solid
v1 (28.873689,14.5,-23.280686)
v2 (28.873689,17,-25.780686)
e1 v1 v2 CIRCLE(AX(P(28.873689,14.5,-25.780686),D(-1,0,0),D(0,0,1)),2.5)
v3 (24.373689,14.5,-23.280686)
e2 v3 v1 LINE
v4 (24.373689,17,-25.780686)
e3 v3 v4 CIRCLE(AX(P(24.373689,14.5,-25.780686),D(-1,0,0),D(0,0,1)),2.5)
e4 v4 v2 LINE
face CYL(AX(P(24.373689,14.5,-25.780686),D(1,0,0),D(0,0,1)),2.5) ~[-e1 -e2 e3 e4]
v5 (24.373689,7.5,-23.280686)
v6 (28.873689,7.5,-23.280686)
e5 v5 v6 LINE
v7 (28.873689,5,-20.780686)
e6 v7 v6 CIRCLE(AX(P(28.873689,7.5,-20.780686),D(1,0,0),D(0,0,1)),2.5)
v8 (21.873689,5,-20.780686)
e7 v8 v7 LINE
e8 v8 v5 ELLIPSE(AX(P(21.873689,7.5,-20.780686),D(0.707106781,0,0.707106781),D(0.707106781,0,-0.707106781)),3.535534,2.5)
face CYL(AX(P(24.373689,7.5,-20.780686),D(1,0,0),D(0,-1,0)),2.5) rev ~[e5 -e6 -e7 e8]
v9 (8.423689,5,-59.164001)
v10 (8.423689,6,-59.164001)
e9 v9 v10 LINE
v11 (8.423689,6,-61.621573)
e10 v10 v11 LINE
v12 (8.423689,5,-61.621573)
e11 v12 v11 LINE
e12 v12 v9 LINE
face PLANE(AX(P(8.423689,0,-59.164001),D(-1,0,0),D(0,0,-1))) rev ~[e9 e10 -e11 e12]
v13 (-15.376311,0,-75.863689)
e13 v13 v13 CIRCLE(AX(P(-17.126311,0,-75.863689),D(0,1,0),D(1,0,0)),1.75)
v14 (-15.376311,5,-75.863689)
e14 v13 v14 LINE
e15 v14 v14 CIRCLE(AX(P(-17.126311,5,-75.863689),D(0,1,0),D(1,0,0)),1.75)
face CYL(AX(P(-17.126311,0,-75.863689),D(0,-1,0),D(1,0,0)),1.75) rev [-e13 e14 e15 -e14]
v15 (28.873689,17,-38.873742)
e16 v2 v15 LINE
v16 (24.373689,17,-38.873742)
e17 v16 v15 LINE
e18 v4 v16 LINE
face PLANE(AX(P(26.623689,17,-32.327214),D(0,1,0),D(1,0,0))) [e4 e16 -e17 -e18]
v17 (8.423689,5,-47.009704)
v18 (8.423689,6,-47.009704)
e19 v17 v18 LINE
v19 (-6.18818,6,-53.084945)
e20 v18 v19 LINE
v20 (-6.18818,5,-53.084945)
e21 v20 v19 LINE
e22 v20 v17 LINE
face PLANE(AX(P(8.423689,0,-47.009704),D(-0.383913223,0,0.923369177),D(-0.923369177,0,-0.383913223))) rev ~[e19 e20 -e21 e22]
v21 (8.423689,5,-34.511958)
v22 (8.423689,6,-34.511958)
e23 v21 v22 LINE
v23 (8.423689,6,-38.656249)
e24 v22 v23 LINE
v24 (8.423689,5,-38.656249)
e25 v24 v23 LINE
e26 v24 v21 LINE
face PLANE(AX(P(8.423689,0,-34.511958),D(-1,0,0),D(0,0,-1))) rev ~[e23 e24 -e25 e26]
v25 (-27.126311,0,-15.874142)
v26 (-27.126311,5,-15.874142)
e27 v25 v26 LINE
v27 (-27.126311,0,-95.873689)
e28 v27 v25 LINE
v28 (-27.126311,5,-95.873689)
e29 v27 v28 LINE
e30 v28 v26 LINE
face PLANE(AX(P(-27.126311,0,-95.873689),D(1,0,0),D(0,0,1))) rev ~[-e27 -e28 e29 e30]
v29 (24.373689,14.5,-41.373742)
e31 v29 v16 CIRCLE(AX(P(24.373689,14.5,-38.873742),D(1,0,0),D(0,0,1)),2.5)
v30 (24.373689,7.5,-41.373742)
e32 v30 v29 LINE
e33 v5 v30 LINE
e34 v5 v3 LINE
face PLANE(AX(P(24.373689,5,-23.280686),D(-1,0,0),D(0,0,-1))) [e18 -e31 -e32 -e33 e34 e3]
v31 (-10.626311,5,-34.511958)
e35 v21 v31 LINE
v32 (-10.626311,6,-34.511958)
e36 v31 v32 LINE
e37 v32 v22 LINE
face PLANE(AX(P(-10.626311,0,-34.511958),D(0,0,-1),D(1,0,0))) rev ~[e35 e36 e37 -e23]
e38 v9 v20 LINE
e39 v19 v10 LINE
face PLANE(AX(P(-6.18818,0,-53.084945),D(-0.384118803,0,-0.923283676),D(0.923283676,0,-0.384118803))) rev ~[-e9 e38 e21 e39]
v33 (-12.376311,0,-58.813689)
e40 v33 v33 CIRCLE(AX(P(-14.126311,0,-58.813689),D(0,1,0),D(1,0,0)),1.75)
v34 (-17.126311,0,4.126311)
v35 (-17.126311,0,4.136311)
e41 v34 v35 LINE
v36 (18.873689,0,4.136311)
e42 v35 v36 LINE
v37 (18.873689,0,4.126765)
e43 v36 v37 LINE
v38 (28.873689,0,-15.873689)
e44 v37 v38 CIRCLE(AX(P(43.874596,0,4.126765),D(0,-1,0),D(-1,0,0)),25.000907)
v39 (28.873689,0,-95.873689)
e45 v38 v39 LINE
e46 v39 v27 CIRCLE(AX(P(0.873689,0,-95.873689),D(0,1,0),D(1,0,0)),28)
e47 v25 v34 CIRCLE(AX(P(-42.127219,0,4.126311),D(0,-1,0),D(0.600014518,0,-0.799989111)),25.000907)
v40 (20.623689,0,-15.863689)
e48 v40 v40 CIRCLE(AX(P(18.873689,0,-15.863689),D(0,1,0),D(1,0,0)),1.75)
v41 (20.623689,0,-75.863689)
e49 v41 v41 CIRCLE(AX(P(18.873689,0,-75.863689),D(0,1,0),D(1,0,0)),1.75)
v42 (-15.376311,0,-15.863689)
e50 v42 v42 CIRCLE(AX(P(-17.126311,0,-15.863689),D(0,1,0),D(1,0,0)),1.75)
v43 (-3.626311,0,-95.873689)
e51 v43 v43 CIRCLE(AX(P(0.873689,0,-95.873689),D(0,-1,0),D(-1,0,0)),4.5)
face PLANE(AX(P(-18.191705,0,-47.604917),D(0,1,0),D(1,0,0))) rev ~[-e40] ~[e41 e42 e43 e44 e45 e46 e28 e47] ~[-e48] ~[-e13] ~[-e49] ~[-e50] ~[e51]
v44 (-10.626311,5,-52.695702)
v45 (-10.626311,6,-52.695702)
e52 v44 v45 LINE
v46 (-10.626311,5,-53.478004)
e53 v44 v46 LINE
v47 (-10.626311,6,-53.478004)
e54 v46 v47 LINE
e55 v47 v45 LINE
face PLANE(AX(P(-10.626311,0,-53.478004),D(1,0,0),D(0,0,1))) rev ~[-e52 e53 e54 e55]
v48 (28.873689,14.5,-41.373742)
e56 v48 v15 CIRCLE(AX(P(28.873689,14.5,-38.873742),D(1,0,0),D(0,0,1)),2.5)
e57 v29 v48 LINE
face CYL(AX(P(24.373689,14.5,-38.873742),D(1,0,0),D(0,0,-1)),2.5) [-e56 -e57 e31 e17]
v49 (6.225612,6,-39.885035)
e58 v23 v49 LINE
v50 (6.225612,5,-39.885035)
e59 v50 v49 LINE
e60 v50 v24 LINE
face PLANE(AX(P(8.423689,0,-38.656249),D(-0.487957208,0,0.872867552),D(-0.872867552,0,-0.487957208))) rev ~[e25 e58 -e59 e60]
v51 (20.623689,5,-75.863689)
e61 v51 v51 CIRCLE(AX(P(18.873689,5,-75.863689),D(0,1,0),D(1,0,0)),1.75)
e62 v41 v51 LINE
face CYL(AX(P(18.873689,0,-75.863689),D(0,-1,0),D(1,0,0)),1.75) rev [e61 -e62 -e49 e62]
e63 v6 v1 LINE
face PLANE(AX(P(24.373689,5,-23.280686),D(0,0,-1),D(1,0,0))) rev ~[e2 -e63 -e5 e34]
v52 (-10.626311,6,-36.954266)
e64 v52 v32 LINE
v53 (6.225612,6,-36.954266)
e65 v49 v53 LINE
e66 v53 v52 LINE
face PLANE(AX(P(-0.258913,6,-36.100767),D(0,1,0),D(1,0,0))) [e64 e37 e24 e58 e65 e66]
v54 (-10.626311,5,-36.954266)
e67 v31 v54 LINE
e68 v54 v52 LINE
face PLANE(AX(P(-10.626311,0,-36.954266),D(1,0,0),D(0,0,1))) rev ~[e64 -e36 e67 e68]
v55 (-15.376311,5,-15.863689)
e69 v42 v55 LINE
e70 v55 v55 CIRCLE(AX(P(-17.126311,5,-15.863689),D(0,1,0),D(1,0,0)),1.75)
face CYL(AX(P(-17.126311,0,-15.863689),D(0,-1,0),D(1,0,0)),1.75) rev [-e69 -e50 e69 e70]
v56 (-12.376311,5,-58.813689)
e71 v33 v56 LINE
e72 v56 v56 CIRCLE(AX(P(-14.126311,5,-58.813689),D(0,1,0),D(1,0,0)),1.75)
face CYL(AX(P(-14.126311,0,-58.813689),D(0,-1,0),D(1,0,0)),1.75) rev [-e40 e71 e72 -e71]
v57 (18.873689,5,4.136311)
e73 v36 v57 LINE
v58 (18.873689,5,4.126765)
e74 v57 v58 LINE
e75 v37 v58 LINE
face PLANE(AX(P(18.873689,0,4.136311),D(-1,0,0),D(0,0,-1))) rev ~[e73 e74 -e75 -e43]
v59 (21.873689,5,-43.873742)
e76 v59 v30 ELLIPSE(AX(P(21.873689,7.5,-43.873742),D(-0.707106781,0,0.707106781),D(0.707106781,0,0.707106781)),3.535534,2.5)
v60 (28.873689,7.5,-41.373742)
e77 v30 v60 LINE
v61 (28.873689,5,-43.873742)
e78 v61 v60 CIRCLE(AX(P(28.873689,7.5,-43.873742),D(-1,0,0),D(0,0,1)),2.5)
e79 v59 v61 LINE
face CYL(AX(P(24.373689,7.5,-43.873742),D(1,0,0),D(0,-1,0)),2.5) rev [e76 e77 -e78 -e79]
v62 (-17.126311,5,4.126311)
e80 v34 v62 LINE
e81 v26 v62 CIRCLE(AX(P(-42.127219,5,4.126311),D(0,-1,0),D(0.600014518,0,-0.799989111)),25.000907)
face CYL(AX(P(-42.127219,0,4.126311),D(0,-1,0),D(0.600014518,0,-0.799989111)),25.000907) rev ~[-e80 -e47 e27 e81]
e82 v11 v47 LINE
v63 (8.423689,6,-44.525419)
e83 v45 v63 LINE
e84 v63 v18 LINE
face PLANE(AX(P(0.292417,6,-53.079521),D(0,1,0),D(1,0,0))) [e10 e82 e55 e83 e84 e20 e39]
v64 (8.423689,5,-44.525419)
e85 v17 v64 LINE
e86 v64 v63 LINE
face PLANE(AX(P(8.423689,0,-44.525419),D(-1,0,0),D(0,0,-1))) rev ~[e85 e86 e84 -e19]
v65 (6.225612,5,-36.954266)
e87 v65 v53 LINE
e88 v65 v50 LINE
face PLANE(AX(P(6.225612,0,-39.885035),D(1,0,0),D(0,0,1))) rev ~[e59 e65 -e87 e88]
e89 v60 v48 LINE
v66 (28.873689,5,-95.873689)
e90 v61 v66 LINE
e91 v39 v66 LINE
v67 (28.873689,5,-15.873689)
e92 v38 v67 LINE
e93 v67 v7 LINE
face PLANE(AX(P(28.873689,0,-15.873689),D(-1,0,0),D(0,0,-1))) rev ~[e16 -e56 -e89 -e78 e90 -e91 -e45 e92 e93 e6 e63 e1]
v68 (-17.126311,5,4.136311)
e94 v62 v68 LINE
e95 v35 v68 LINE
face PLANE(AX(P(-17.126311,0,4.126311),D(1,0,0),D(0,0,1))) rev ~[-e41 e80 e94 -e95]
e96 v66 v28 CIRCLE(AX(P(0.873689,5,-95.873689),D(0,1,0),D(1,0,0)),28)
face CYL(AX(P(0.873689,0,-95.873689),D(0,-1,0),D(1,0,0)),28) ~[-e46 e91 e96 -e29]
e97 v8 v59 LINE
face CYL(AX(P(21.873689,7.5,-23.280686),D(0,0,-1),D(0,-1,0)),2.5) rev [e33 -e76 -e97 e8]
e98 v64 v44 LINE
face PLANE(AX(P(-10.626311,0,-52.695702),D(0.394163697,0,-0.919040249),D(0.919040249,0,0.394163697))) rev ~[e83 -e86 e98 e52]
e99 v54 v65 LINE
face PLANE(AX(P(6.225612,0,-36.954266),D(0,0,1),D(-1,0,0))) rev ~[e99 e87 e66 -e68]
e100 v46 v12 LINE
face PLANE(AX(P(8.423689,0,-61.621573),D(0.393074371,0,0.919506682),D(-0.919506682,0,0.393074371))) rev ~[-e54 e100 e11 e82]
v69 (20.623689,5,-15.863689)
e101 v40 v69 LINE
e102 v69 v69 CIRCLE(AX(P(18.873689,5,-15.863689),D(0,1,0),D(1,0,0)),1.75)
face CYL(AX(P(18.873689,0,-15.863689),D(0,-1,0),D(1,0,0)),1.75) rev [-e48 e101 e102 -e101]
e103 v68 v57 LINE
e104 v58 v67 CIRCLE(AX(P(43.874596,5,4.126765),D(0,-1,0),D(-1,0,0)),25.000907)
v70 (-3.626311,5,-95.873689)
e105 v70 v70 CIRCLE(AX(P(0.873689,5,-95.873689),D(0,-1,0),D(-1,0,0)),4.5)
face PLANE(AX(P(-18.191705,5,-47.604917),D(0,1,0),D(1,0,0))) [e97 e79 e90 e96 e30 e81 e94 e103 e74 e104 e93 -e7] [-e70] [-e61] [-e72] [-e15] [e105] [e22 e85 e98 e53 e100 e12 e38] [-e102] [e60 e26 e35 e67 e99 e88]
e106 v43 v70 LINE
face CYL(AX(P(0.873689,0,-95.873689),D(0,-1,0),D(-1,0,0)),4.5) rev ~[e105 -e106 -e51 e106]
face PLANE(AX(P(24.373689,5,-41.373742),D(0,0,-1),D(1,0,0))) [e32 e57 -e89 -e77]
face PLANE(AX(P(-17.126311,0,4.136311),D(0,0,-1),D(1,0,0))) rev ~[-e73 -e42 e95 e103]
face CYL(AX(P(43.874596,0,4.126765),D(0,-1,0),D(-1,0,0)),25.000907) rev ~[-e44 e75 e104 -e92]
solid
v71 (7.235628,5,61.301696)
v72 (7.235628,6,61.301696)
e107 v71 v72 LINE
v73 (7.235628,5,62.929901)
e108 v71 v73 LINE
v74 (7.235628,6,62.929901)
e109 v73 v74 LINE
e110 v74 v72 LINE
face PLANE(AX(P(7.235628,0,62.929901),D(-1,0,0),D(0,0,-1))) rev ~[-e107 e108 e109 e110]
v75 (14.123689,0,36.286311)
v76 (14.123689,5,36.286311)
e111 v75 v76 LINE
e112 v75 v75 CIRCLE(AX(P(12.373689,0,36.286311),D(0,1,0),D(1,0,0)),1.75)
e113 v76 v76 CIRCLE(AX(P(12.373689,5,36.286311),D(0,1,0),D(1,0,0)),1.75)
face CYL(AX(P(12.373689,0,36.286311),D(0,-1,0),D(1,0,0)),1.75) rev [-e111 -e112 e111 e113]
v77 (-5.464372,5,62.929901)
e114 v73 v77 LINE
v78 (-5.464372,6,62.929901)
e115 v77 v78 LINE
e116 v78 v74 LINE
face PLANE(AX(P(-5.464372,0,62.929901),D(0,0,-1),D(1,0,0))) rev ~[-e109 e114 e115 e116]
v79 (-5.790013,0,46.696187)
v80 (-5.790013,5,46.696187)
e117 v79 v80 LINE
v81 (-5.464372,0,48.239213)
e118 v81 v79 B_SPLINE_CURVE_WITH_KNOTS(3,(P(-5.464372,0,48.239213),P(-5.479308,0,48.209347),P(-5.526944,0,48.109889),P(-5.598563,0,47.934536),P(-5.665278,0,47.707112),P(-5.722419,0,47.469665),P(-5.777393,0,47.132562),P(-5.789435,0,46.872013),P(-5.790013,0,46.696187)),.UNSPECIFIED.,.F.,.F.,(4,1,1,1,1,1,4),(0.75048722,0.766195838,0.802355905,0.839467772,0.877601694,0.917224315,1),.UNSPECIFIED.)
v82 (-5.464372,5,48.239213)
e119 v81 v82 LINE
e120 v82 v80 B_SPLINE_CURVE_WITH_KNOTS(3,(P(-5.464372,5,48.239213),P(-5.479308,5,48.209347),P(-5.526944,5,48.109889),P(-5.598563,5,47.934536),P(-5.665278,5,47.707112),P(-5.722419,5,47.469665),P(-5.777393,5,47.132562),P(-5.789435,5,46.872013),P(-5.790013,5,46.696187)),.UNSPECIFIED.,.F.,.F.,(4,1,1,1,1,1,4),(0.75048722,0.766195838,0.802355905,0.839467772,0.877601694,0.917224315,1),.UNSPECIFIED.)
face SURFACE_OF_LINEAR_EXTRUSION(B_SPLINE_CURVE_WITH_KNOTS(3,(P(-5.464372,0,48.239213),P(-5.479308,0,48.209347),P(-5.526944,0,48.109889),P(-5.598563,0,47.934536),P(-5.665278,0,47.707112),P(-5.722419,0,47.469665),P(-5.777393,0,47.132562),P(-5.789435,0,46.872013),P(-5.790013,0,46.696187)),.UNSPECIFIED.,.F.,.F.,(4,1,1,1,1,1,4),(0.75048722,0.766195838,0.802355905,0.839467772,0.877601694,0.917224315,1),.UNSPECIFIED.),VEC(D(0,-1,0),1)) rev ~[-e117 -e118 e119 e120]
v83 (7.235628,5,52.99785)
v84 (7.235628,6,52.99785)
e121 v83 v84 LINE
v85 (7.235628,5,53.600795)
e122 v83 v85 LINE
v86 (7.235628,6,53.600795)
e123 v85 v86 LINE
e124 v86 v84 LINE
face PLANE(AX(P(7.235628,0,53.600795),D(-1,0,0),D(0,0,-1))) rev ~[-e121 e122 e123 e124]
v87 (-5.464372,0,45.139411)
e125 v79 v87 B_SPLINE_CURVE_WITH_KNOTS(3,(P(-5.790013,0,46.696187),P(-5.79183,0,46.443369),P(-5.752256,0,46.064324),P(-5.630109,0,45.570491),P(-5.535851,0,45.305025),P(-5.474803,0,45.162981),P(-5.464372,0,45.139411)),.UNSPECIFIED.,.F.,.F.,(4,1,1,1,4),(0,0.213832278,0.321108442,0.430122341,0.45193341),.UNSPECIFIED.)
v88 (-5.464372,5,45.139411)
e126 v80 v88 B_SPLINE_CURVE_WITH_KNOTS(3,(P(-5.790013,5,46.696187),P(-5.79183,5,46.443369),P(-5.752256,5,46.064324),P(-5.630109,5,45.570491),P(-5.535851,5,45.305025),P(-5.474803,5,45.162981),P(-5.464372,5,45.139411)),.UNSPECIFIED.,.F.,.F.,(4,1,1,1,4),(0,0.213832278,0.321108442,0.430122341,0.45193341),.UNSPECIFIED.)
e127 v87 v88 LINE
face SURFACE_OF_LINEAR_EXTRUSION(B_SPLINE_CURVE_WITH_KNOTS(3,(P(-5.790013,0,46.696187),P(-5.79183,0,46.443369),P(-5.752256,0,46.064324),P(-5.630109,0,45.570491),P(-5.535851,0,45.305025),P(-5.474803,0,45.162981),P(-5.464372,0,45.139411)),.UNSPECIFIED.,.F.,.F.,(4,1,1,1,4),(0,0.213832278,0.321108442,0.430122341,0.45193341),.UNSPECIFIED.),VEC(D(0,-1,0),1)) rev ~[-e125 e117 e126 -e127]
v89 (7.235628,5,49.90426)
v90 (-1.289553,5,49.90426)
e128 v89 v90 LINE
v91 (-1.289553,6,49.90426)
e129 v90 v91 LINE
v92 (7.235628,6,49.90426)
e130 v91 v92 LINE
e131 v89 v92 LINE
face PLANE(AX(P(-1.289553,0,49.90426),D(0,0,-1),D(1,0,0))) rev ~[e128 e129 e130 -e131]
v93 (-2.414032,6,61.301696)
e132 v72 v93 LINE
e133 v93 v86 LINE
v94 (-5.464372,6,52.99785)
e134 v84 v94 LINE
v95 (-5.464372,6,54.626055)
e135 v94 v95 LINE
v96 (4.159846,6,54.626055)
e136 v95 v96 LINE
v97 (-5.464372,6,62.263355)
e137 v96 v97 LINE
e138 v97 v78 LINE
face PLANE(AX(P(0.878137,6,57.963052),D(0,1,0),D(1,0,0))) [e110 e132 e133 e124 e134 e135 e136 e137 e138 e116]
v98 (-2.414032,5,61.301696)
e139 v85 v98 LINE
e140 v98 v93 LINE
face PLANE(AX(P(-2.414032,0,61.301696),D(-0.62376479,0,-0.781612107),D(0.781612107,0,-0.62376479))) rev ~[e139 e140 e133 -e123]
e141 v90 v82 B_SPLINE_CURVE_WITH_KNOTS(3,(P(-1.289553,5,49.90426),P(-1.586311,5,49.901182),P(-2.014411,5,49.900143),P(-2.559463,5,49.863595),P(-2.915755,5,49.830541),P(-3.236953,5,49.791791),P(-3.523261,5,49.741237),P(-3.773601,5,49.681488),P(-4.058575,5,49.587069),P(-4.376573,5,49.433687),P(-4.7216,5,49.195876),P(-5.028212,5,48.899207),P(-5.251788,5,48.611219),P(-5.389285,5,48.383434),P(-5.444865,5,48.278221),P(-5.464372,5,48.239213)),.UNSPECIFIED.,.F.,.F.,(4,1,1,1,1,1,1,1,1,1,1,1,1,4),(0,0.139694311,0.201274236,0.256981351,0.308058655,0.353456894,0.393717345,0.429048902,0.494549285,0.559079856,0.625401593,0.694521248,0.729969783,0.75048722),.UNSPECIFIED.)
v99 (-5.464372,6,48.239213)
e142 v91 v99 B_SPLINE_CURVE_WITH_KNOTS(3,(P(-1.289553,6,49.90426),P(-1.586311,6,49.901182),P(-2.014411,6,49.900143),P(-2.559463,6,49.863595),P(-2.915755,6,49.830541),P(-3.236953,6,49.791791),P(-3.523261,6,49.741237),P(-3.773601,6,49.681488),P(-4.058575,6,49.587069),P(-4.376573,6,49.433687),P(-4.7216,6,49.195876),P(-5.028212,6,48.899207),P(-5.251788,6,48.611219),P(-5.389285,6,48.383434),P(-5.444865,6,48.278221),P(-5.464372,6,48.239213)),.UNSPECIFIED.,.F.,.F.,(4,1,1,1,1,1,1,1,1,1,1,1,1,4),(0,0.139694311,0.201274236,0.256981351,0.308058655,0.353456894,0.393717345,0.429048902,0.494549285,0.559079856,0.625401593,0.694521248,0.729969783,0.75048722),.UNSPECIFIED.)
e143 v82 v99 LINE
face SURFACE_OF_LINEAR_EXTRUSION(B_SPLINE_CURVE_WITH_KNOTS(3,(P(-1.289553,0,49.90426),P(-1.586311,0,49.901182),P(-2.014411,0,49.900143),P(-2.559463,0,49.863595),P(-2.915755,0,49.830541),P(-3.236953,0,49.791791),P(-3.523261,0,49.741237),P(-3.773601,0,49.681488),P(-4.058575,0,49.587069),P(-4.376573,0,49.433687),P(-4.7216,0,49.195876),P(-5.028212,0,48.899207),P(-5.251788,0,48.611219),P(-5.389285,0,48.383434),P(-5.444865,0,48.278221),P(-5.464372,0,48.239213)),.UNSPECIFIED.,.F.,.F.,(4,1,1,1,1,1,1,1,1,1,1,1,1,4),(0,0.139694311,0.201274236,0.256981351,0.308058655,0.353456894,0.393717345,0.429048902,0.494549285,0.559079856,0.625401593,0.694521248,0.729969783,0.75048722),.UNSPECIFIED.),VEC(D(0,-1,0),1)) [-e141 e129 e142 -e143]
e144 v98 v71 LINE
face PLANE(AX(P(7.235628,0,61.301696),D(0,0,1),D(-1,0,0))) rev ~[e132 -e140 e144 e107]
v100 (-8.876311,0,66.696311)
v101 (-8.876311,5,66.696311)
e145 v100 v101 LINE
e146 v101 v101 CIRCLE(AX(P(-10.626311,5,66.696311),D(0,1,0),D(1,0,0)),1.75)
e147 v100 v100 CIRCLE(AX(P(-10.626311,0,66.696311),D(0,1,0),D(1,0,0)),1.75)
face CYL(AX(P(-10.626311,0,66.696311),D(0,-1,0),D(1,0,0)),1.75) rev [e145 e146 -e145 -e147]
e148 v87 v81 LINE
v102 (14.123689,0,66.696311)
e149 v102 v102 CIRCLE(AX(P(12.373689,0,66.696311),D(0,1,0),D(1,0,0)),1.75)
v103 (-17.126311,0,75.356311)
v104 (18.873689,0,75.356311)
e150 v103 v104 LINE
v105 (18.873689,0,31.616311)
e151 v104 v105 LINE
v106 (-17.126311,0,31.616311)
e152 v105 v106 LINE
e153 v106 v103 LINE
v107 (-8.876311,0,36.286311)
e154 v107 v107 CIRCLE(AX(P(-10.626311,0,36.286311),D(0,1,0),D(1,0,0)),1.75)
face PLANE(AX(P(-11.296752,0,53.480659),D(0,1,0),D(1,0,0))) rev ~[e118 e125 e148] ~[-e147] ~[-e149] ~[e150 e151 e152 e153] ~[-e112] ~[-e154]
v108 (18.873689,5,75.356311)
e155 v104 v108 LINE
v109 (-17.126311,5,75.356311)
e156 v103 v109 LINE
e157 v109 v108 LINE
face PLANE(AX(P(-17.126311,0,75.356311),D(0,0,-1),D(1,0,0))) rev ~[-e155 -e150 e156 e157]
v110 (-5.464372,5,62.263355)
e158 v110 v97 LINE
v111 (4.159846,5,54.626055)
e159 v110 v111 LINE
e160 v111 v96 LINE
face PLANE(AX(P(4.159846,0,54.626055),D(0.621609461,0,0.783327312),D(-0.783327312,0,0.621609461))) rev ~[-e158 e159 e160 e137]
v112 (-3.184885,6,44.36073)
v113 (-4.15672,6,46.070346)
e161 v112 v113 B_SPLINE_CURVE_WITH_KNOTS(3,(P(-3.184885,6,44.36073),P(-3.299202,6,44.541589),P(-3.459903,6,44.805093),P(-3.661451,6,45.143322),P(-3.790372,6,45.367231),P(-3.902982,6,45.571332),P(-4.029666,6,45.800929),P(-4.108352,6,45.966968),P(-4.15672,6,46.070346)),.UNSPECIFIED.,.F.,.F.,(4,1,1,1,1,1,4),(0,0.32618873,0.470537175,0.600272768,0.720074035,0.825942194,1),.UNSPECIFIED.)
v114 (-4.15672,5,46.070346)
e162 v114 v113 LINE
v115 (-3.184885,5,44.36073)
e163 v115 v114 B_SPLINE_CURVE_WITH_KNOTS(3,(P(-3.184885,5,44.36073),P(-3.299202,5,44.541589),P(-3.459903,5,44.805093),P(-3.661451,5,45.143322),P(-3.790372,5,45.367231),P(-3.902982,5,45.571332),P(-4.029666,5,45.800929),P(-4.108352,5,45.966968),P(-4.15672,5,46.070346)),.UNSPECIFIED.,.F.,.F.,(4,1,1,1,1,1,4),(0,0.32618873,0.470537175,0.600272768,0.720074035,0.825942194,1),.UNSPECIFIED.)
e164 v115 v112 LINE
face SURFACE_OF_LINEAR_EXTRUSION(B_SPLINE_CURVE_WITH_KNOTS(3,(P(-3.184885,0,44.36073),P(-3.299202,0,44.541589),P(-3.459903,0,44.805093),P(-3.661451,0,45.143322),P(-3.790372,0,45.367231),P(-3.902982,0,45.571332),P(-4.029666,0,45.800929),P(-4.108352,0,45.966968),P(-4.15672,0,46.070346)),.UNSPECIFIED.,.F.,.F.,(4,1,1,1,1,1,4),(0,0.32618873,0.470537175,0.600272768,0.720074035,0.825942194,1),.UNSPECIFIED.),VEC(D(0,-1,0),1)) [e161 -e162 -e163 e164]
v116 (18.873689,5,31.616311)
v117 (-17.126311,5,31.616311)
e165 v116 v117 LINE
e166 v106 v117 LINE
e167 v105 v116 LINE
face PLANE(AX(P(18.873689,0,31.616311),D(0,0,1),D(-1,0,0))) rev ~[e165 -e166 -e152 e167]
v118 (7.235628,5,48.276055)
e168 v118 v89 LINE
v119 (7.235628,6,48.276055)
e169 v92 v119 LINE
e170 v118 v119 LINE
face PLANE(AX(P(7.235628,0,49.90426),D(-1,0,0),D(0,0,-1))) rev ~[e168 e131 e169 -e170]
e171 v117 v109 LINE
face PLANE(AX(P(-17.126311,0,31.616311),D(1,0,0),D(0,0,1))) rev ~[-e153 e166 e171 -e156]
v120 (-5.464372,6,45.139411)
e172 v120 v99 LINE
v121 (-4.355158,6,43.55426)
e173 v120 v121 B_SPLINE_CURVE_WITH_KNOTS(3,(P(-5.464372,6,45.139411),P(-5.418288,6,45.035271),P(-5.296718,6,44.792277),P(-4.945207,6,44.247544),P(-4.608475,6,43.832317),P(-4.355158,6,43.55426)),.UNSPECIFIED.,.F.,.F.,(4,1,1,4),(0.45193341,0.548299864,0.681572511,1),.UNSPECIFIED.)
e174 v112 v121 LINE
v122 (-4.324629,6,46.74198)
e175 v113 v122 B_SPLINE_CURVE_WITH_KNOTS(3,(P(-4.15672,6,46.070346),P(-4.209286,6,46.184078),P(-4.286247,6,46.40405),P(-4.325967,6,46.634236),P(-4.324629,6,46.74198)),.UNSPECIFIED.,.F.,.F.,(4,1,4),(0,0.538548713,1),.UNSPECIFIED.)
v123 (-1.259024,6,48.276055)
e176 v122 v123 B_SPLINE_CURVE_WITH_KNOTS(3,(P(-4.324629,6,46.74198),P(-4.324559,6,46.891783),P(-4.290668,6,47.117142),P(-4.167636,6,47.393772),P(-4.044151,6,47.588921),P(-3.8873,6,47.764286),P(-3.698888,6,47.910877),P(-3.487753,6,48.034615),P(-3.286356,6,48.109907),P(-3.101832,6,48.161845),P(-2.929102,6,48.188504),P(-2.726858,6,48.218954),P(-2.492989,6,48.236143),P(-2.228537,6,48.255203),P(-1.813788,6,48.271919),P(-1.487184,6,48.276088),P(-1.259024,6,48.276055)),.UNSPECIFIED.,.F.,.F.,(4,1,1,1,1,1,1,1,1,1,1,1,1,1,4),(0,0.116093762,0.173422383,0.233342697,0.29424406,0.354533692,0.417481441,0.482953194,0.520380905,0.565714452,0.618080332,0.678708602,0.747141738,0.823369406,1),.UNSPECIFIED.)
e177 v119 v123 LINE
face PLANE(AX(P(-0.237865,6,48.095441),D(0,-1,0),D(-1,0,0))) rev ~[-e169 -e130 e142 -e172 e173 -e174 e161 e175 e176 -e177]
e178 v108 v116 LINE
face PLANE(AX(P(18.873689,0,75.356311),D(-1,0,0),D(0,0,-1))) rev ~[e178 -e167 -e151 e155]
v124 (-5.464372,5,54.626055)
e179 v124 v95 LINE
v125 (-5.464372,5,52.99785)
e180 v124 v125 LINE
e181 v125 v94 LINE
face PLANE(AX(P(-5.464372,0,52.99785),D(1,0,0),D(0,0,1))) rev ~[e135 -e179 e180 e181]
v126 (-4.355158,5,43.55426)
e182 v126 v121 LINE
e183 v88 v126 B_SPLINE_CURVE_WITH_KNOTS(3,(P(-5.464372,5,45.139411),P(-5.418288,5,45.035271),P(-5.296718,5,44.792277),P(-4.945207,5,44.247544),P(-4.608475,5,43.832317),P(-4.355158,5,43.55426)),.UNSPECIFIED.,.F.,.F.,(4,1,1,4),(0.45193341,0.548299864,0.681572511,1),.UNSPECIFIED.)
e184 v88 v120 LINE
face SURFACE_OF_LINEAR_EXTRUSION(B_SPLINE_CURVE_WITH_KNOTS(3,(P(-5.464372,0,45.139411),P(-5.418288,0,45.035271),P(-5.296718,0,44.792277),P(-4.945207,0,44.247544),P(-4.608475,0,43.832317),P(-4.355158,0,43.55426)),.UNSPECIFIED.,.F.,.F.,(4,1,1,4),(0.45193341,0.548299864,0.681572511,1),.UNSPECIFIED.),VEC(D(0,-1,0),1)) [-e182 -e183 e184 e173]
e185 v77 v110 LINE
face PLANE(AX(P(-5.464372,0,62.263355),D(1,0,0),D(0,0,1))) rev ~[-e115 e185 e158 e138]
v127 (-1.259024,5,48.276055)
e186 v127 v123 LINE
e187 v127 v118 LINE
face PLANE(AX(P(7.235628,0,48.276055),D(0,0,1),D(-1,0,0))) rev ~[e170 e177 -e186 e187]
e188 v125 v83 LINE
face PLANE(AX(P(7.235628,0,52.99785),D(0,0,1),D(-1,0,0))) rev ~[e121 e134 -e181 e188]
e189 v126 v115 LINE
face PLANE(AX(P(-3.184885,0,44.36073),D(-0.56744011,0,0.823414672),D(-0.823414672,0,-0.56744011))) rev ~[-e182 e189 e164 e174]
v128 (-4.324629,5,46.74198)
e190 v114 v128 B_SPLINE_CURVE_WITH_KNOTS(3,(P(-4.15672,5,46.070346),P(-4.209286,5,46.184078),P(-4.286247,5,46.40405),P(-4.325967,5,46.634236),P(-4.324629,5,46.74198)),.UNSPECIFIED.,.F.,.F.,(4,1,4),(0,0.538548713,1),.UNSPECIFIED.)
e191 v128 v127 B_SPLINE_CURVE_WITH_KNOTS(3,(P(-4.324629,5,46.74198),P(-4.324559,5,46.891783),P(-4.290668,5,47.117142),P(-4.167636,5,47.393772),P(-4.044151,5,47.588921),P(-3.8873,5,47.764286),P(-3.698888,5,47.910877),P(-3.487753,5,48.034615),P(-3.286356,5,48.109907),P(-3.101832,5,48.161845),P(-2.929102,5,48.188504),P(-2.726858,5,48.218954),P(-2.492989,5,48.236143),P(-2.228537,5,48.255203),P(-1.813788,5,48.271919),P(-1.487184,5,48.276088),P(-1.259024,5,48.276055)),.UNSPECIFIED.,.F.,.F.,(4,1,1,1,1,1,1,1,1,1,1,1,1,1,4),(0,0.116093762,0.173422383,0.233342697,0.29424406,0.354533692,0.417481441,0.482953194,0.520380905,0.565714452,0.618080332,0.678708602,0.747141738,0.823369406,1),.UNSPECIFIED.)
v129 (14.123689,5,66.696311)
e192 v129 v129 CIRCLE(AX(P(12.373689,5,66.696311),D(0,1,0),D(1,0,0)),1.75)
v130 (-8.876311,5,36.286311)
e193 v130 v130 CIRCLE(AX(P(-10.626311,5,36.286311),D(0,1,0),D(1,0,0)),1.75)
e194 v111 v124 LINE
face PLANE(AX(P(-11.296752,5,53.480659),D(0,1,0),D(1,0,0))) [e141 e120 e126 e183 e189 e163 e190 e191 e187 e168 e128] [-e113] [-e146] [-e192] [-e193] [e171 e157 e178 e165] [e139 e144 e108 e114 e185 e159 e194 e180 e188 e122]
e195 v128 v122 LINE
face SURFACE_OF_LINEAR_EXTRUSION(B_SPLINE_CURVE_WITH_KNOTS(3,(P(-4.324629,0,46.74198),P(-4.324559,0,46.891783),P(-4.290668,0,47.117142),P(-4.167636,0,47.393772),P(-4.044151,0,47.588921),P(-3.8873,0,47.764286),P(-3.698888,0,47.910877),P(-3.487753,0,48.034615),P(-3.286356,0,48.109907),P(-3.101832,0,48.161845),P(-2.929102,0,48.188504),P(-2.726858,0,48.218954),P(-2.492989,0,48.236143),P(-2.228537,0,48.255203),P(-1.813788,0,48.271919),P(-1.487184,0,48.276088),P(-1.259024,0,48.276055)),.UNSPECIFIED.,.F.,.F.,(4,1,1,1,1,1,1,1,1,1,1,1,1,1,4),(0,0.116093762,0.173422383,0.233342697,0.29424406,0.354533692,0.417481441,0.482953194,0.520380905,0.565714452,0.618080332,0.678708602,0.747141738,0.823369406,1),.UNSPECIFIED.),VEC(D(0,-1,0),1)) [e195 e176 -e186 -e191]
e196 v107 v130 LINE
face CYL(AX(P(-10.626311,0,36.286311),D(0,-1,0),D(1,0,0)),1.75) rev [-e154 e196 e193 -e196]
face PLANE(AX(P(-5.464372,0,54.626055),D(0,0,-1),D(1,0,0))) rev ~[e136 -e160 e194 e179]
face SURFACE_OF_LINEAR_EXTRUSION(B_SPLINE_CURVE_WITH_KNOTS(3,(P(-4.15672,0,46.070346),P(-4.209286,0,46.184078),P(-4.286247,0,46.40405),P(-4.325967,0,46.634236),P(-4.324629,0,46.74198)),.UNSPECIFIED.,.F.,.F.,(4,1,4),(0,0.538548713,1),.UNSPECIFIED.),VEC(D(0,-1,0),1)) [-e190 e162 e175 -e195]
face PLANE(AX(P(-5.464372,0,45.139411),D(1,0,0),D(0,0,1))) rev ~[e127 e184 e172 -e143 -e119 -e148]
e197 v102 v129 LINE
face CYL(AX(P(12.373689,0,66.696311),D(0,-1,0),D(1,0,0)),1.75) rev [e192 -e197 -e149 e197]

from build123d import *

# Parameters (mm, degrees)
SKETCH2_R           = 1.75
BOSS_EXTRUDE5_DEPTH = 5
BOSS_EXTRUDE6_DEPTH = 6
SKETCH3_W           = 4.5
SKETCH3_H           = 18.093056915
BOSS_EXTRUDE7_DEPTH = 12
FILLET1_R           = 2.5


with BuildPart() as part:
    # Sketch2 → Boss-Extrude5 (new body)
    with BuildSketch(Plane(origin=(0, 0, 0), x_dir=(1, 0, 0), z_dir=(0, 1, 0))):
        with BuildLine():
            Line((-17.126311361, -31.616311361), (-17.126311361, -75.356311361))
            Line((-17.126311361, -75.356311361), (-5.464372379, -75.356311361))
            Line((-5.464372379, -75.356311361), (-5.464372379, -62.929901105))
            Line((-5.464372379, -62.929901105), (-5.464372379, -62.26335463))
            Line((-5.464372379, -62.26335463), (-5.464372379, -54.626054951))
            Line((-5.464372379, -54.626054951), (-5.464372379, -52.997849822))
            Line((-5.464372379, -52.997849822), (-5.464372379, -48.239212878))
            add(Edge.make_bspline(
                [(-5.464372379, -48.239212878), (-5.479308008, -48.209347326), (-5.526944327, -48.109888501), (-5.598562611, -47.934535736), (-5.665278067, -47.707111583), (-5.722418695, -47.469664507), (-5.777392685, -47.132561506), (-5.789435468, -46.872012813), (-5.790013405, -46.696187162)],
                knots=[0.75048722, 0.75048722, 0.75048722, 0.75048722, 0.766195838, 0.802355905, 0.839467772, 0.877601694, 0.917224315, 1, 1, 1, 1], degree=3))
            add(Edge.make_bspline(
                [(-5.790013405, -46.696187162), (-5.791830358, -46.443369479), (-5.752256309, -46.064323872), (-5.630108747, -45.570490958), (-5.535850567, -45.305024528), (-5.474802855, -45.162981053), (-5.464372379, -45.139410724)],
                knots=[0, 0, 0, 0, 0.213832278, 0.321108442, 0.430122341, 0.45193341, 0.45193341, 0.45193341, 0.45193341], degree=3))
            Line((-5.464372379, -45.139410724), (-5.464372379, -31.616311361))
            Line((-5.464372379, -31.616311361), (-17.126311361, -31.616311361))
        make_face()
        with Locations((-10.626311361, -66.696311361)):
            Circle(SKETCH2_R, mode=Mode.SUBTRACT)
        with Locations((-10.626311361, -36.286311361)):
            Circle(SKETCH2_R, mode=Mode.SUBTRACT)
        with BuildLine():
            Line((-5.464372379, -62.929901105), (-5.464372379, -75.356311361))
            Line((-5.464372379, -75.356311361), (18.873688639, -75.356311361))
            Line((18.873688639, -75.356311361), (18.873688639, -31.616311361))
            Line((18.873688639, -31.616311361), (-5.464372379, -31.616311361))
            Line((-5.464372379, -31.616311361), (-5.464372379, -45.139410724))
            add(Edge.make_bspline(
                [(-5.464372379, -45.139410724), (-5.41828807, -45.035271445), (-5.296718229, -44.792277229), (-4.945206965, -44.247543692), (-4.608474951, -43.832316799), (-4.355157635, -43.554260079)],
                knots=[0.45193341, 0.45193341, 0.45193341, 0.45193341, 0.548299864, 0.681572511, 1, 1, 1, 1], degree=3))
            Line((-4.355157635, -43.554260079), (-3.184885199, -44.360730431))
            add(Edge.make_bspline(
                [(-3.184885199, -44.360730431), (-3.299202447, -44.541589378), (-3.459903064, -44.805093082), (-3.661450848, -45.143322346), (-3.790371764, -45.367230916), (-3.902981676, -45.571332012), (-4.029665545, -45.800928622), (-4.10835225, -45.966968377), (-4.156720135, -46.070345816)],
                knots=[0, 0, 0, 0, 0.32618873, 0.470537175, 0.600272768, 0.720074035, 0.825942194, 1, 1, 1, 1], degree=3))
            add(Edge.make_bspline(
                [(-4.156720135, -46.070345816), (-4.209286382, -46.184077533), (-4.286247323, -46.404049964), (-4.325967125, -46.634236156), (-4.324628789, -46.741980431)],
                knots=[0, 0, 0, 0, 0.538548713, 1, 1, 1, 1], degree=3))
            add(Edge.make_bspline(
                [(-4.324628789, -46.741980431), (-4.324559221, -46.891783443), (-4.290667843, -47.117141621), (-4.167635974, -47.393772358), (-4.044150741, -47.588920682), (-3.887300055, -47.764285737), (-3.698888458, -47.910877403), (-3.487752607, -48.034615376), (-3.286355624, -48.109906835), (-3.101832091, -48.161844908), (-2.929102182, -48.188504454), (-2.72685785, -48.218954398), (-2.492989027, -48.236143316), (-2.228537136, -48.255203457), (-1.813788183, -48.271918849), (-1.487184361, -48.276087959), (-1.259023821, -48.276054951)],
                knots=[0, 0, 0, 0, 0.116093762, 0.173422383, 0.233342697, 0.29424406, 0.354533692, 0.417481441, 0.482953194, 0.520380905, 0.565714452, 0.618080332, 0.678708602, 0.747141738, 0.823369406, 1, 1, 1, 1], degree=3))
            Line((-1.259023821, -48.276054951), (7.235627621, -48.276054951))
            Line((7.235627621, -48.276054951), (7.235627621, -49.904260079))
            Line((7.235627621, -49.904260079), (-1.289552667, -49.904260079))
            add(Edge.make_bspline(
                [(-1.289552667, -49.904260079), (-1.586310839, -49.901182176), (-2.014411, -49.900143194), (-2.559462693, -49.863595429), (-2.915754705, -49.830541303), (-3.236953259, -49.791791145), (-3.523261343, -49.741237263), (-3.773600929, -49.681488083), (-4.058575491, -49.587069258), (-4.376573461, -49.433687342), (-4.72160044, -49.195875985), (-5.02821201, -48.899206761), (-5.251787885, -48.611218592), (-5.389284918, -48.383433866), (-5.444864563, -48.278221057), (-5.464372379, -48.239212878)],
                knots=[0, 0, 0, 0, 0.139694311, 0.201274236, 0.256981351, 0.308058655, 0.353456894, 0.393717345, 0.429048902, 0.494549285, 0.559079856, 0.625401593, 0.694521248, 0.729969783, 0.75048722, 0.75048722, 0.75048722, 0.75048722], degree=3))
            Line((-5.464372379, -48.239212878), (-5.464372379, -52.997849822))
            Line((-5.464372379, -52.997849822), (7.235627621, -52.997849822))
            Line((7.235627621, -52.997849822), (7.235627621, -53.600794534))
            Line((7.235627621, -53.600794534), (-2.414031834, -61.301695976))
            Line((-2.414031834, -61.301695976), (7.235627621, -61.301695976))
            Line((7.235627621, -61.301695976), (7.235627621, -62.929901105))
            Line((7.235627621, -62.929901105), (-5.464372379, -62.929901105))
        make_face()
        with Locations((12.373688639, -66.696311361)):
            Circle(SKETCH2_R, mode=Mode.SUBTRACT)
        with Locations((12.373688639, -36.286311361)):
            Circle(SKETCH2_R, mode=Mode.SUBTRACT)
        with BuildLine():
            Line((-17.126311361, -4.126311361), (-17.126311361, -4.136311361))
            Line((-17.126311361, -4.136311361), (-10.626311361, -4.136311361))
            Line((-10.626311361, -4.136311361), (-10.626311361, 34.51195787))
            Line((-10.626311361, 34.51195787), (-10.626311361, 36.954265562))
            Line((-10.626311361, 36.954265562), (-10.626311361, 52.69570186))
            Line((-10.626311361, 52.69570186), (-10.626311361, 53.478003543))
            Line((-10.626311361, 53.478003543), (-10.626311361, 95.873688639))
            Line((-10.626311361, 95.873688639), (-27.126311361, 95.873688639))
            Line((-27.126311361, 95.873688639), (-27.126311361, 15.874142351))
            ThreePointArc((-27.126311361, 15.874142351), (-19.765625932, 7.054231433), (-17.126311361, -4.126311361))
        make_face()
        with Locations((-17.126311361, 15.863688639)):
            Circle(SKETCH2_R, mode=Mode.SUBTRACT)
        with Locations((-14.126311361, 58.813688639)):
            Circle(SKETCH2_R, mode=Mode.SUBTRACT)
        with Locations((-17.126311361, 75.863688639)):
            Circle(SKETCH2_R, mode=Mode.SUBTRACT)
        with BuildLine():
            Line((-10.626311361, 34.51195787), (-10.626311361, -4.136311361))
            Line((-10.626311361, -4.136311361), (18.873688639, -4.136311361))
            Line((18.873688639, -4.136311361), (18.873688639, -4.126765073))
            ThreePointArc((18.873688639, -4.126765073), (21.51300321, 7.053777721), (28.873688639, 15.873688639))
            Line((28.873688639, 15.873688639), (28.873688639, 95.873688639))
            Line((28.873688639, 95.873688639), (5.373688639, 95.873688639))
            ThreePointArc((5.373688639, 95.873688639), (0.873688639, 91.373688639), (-3.626311361, 95.873688639))
            Line((-3.626311361, 95.873688639), (-10.626311361, 95.873688639))
            Line((-10.626311361, 95.873688639), (-10.626311361, 53.478003543))
            Line((-10.626311361, 53.478003543), (8.423688639, 61.621573254))
            Line((8.423688639, 61.621573254), (8.423688639, 59.164001139))
            Line((8.423688639, 59.164001139), (-6.188180351, 53.084944649))
            Line((-6.188180351, 53.084944649), (8.423688639, 47.009704264))
            Line((8.423688639, 47.009704264), (8.423688639, 44.525419408))
            Line((8.423688639, 44.525419408), (-10.626311361, 52.69570186))
            Line((-10.626311361, 52.69570186), (-10.626311361, 36.954265562))
            Line((-10.626311361, 36.954265562), (6.225611716, 36.954265562))
            Line((6.225611716, 36.954265562), (6.225611716, 39.885034793))
            Line((6.225611716, 39.885034793), (8.423688639, 38.656248735))
            Line((8.423688639, 38.656248735), (8.423688639, 34.51195787))
            Line((8.423688639, 34.51195787), (-10.626311361, 34.51195787))
        make_face()
        with Locations((18.873688639, 15.863688639)):
            Circle(SKETCH2_R, mode=Mode.SUBTRACT)
        with Locations((18.873688639, 75.863688639)):
            Circle(SKETCH2_R, mode=Mode.SUBTRACT)
        Polygon((-5.464372379, -54.626054951), (-5.464372379, -62.26335463), (4.159846371, -54.626054951), align=None)
        with BuildLine():
            ThreePointArc((28.873688639, 95.873688639), (0.873688639, 123.873688639), (-27.126311361, 95.873688639))
            Line((-27.126311361, 95.873688639), (-10.626311361, 95.873688639))
            Line((-10.626311361, 95.873688639), (-3.626311361, 95.873688639))
            ThreePointArc((-3.626311361, 95.873688639), (0.873688639, 100.373688639), (5.373688639, 95.873688639))
            Line((5.373688639, 95.873688639), (28.873688639, 95.873688639))
        make_face()
    extrude(amount=BOSS_EXTRUDE5_DEPTH)

    # Sketch2<10> → Boss-Extrude6 (add)
    with BuildSketch(Plane(origin=(0, 0, 0), x_dir=(1, 0, 0), z_dir=(0, 1, 0))):
        Polygon((-5.464372379, -62.26335463), (-5.464372379, -62.929901105), (7.235627621, -62.929901105), (7.235627621, -61.301695976), (-2.414031834, -61.301695976), (7.235627621, -53.600794534), (7.235627621, -52.997849822), (-5.464372379, -52.997849822), (-5.464372379, -54.626054951), (4.159846371, -54.626054951), align=None)
        with BuildLine():
            add(Edge.make_bspline(
                [(-5.464372379, -45.139410724), (-5.41828807, -45.035271445), (-5.296718229, -44.792277229), (-4.945206965, -44.247543692), (-4.608474951, -43.832316799), (-4.355157635, -43.554260079)],
                knots=[0.45193341, 0.45193341, 0.45193341, 0.45193341, 0.548299864, 0.681572511, 1, 1, 1, 1], degree=3))
            Line((-5.464372379, -45.139410724), (-5.464372379, -48.239212878))
            add(Edge.make_bspline(
                [(-1.289552667, -49.904260079), (-1.586310839, -49.901182176), (-2.014411, -49.900143194), (-2.559462693, -49.863595429), (-2.915754705, -49.830541303), (-3.236953259, -49.791791145), (-3.523261343, -49.741237263), (-3.773600929, -49.681488083), (-4.058575491, -49.587069258), (-4.376573461, -49.433687342), (-4.72160044, -49.195875985), (-5.02821201, -48.899206761), (-5.251787885, -48.611218592), (-5.389284918, -48.383433866), (-5.444864563, -48.278221057), (-5.464372379, -48.239212878)],
                knots=[0, 0, 0, 0, 0.139694311, 0.201274236, 0.256981351, 0.308058655, 0.353456894, 0.393717345, 0.429048902, 0.494549285, 0.559079856, 0.625401593, 0.694521248, 0.729969783, 0.75048722, 0.75048722, 0.75048722, 0.75048722], degree=3))
            Line((-1.289552667, -49.904260079), (7.235627621, -49.904260079))
            Line((7.235627621, -49.904260079), (7.235627621, -48.276054951))
            Line((7.235627621, -48.276054951), (-1.259023821, -48.276054951))
            add(Edge.make_bspline(
                [(-4.324628789, -46.741980431), (-4.324559221, -46.891783443), (-4.290667843, -47.117141621), (-4.167635974, -47.393772358), (-4.044150741, -47.588920682), (-3.887300055, -47.764285737), (-3.698888458, -47.910877403), (-3.487752607, -48.034615376), (-3.286355624, -48.109906835), (-3.101832091, -48.161844908), (-2.929102182, -48.188504454), (-2.72685785, -48.218954398), (-2.492989027, -48.236143316), (-2.228537136, -48.255203457), (-1.813788183, -48.271918849), (-1.487184361, -48.276087959), (-1.259023821, -48.276054951)],
                knots=[0, 0, 0, 0, 0.116093762, 0.173422383, 0.233342697, 0.29424406, 0.354533692, 0.417481441, 0.482953194, 0.520380905, 0.565714452, 0.618080332, 0.678708602, 0.747141738, 0.823369406, 1, 1, 1, 1], degree=3))
            add(Edge.make_bspline(
                [(-4.156720135, -46.070345816), (-4.209286382, -46.184077533), (-4.286247323, -46.404049964), (-4.325967125, -46.634236156), (-4.324628789, -46.741980431)],
                knots=[0, 0, 0, 0, 0.538548713, 1, 1, 1, 1], degree=3))
            add(Edge.make_bspline(
                [(-3.184885199, -44.360730431), (-3.299202447, -44.541589378), (-3.459903064, -44.805093082), (-3.661450848, -45.143322346), (-3.790371764, -45.367230916), (-3.902981676, -45.571332012), (-4.029665545, -45.800928622), (-4.10835225, -45.966968377), (-4.156720135, -46.070345816)],
                knots=[0, 0, 0, 0, 0.32618873, 0.470537175, 0.600272768, 0.720074035, 0.825942194, 1, 1, 1, 1], degree=3))
            Line((-3.184885199, -44.360730431), (-4.355157635, -43.554260079))
        make_face()
        Polygon((-10.626311361, 36.954265562), (-10.626311361, 34.51195787), (8.423688639, 34.51195787), (8.423688639, 38.656248735), (6.225611716, 39.885034793), (6.225611716, 36.954265562), align=None)
        Polygon((-10.626311361, 53.478003543), (-10.626311361, 52.69570186), (8.423688639, 44.525419408), (8.423688639, 47.009704264), (-6.188180351, 53.084944649), (8.423688639, 59.164001139), (8.423688639, 61.621573254), align=None)
    extrude(amount=BOSS_EXTRUDE6_DEPTH)

    # Sketch3 → Boss-Extrude7 (add)
    with BuildSketch(Plane(origin=(0, 5, 0), x_dir=(1, 0, 0), z_dir=(0, 1, 0))):
        with Locations((26.623688639, 32.327214021)):
            Rectangle(SKETCH3_W, SKETCH3_H)
    extrude(amount=BOSS_EXTRUDE7_DEPTH)

    # Fillet1
    fillet1_edges = [part.edges().sort_by_distance(p)[0] for p in [
        (26.623688639, 5, -41.373742478),
        (24.373688639, 5, -32.32721402),
        (26.623688639, 5, -23.280685563),
        (26.623688639, 17, -41.373742478),
        (26.623688639, 17, -23.280685563),
    ]]
    fillet(fillet1_edges, radius=FILLET1_R)


solid = part.part
